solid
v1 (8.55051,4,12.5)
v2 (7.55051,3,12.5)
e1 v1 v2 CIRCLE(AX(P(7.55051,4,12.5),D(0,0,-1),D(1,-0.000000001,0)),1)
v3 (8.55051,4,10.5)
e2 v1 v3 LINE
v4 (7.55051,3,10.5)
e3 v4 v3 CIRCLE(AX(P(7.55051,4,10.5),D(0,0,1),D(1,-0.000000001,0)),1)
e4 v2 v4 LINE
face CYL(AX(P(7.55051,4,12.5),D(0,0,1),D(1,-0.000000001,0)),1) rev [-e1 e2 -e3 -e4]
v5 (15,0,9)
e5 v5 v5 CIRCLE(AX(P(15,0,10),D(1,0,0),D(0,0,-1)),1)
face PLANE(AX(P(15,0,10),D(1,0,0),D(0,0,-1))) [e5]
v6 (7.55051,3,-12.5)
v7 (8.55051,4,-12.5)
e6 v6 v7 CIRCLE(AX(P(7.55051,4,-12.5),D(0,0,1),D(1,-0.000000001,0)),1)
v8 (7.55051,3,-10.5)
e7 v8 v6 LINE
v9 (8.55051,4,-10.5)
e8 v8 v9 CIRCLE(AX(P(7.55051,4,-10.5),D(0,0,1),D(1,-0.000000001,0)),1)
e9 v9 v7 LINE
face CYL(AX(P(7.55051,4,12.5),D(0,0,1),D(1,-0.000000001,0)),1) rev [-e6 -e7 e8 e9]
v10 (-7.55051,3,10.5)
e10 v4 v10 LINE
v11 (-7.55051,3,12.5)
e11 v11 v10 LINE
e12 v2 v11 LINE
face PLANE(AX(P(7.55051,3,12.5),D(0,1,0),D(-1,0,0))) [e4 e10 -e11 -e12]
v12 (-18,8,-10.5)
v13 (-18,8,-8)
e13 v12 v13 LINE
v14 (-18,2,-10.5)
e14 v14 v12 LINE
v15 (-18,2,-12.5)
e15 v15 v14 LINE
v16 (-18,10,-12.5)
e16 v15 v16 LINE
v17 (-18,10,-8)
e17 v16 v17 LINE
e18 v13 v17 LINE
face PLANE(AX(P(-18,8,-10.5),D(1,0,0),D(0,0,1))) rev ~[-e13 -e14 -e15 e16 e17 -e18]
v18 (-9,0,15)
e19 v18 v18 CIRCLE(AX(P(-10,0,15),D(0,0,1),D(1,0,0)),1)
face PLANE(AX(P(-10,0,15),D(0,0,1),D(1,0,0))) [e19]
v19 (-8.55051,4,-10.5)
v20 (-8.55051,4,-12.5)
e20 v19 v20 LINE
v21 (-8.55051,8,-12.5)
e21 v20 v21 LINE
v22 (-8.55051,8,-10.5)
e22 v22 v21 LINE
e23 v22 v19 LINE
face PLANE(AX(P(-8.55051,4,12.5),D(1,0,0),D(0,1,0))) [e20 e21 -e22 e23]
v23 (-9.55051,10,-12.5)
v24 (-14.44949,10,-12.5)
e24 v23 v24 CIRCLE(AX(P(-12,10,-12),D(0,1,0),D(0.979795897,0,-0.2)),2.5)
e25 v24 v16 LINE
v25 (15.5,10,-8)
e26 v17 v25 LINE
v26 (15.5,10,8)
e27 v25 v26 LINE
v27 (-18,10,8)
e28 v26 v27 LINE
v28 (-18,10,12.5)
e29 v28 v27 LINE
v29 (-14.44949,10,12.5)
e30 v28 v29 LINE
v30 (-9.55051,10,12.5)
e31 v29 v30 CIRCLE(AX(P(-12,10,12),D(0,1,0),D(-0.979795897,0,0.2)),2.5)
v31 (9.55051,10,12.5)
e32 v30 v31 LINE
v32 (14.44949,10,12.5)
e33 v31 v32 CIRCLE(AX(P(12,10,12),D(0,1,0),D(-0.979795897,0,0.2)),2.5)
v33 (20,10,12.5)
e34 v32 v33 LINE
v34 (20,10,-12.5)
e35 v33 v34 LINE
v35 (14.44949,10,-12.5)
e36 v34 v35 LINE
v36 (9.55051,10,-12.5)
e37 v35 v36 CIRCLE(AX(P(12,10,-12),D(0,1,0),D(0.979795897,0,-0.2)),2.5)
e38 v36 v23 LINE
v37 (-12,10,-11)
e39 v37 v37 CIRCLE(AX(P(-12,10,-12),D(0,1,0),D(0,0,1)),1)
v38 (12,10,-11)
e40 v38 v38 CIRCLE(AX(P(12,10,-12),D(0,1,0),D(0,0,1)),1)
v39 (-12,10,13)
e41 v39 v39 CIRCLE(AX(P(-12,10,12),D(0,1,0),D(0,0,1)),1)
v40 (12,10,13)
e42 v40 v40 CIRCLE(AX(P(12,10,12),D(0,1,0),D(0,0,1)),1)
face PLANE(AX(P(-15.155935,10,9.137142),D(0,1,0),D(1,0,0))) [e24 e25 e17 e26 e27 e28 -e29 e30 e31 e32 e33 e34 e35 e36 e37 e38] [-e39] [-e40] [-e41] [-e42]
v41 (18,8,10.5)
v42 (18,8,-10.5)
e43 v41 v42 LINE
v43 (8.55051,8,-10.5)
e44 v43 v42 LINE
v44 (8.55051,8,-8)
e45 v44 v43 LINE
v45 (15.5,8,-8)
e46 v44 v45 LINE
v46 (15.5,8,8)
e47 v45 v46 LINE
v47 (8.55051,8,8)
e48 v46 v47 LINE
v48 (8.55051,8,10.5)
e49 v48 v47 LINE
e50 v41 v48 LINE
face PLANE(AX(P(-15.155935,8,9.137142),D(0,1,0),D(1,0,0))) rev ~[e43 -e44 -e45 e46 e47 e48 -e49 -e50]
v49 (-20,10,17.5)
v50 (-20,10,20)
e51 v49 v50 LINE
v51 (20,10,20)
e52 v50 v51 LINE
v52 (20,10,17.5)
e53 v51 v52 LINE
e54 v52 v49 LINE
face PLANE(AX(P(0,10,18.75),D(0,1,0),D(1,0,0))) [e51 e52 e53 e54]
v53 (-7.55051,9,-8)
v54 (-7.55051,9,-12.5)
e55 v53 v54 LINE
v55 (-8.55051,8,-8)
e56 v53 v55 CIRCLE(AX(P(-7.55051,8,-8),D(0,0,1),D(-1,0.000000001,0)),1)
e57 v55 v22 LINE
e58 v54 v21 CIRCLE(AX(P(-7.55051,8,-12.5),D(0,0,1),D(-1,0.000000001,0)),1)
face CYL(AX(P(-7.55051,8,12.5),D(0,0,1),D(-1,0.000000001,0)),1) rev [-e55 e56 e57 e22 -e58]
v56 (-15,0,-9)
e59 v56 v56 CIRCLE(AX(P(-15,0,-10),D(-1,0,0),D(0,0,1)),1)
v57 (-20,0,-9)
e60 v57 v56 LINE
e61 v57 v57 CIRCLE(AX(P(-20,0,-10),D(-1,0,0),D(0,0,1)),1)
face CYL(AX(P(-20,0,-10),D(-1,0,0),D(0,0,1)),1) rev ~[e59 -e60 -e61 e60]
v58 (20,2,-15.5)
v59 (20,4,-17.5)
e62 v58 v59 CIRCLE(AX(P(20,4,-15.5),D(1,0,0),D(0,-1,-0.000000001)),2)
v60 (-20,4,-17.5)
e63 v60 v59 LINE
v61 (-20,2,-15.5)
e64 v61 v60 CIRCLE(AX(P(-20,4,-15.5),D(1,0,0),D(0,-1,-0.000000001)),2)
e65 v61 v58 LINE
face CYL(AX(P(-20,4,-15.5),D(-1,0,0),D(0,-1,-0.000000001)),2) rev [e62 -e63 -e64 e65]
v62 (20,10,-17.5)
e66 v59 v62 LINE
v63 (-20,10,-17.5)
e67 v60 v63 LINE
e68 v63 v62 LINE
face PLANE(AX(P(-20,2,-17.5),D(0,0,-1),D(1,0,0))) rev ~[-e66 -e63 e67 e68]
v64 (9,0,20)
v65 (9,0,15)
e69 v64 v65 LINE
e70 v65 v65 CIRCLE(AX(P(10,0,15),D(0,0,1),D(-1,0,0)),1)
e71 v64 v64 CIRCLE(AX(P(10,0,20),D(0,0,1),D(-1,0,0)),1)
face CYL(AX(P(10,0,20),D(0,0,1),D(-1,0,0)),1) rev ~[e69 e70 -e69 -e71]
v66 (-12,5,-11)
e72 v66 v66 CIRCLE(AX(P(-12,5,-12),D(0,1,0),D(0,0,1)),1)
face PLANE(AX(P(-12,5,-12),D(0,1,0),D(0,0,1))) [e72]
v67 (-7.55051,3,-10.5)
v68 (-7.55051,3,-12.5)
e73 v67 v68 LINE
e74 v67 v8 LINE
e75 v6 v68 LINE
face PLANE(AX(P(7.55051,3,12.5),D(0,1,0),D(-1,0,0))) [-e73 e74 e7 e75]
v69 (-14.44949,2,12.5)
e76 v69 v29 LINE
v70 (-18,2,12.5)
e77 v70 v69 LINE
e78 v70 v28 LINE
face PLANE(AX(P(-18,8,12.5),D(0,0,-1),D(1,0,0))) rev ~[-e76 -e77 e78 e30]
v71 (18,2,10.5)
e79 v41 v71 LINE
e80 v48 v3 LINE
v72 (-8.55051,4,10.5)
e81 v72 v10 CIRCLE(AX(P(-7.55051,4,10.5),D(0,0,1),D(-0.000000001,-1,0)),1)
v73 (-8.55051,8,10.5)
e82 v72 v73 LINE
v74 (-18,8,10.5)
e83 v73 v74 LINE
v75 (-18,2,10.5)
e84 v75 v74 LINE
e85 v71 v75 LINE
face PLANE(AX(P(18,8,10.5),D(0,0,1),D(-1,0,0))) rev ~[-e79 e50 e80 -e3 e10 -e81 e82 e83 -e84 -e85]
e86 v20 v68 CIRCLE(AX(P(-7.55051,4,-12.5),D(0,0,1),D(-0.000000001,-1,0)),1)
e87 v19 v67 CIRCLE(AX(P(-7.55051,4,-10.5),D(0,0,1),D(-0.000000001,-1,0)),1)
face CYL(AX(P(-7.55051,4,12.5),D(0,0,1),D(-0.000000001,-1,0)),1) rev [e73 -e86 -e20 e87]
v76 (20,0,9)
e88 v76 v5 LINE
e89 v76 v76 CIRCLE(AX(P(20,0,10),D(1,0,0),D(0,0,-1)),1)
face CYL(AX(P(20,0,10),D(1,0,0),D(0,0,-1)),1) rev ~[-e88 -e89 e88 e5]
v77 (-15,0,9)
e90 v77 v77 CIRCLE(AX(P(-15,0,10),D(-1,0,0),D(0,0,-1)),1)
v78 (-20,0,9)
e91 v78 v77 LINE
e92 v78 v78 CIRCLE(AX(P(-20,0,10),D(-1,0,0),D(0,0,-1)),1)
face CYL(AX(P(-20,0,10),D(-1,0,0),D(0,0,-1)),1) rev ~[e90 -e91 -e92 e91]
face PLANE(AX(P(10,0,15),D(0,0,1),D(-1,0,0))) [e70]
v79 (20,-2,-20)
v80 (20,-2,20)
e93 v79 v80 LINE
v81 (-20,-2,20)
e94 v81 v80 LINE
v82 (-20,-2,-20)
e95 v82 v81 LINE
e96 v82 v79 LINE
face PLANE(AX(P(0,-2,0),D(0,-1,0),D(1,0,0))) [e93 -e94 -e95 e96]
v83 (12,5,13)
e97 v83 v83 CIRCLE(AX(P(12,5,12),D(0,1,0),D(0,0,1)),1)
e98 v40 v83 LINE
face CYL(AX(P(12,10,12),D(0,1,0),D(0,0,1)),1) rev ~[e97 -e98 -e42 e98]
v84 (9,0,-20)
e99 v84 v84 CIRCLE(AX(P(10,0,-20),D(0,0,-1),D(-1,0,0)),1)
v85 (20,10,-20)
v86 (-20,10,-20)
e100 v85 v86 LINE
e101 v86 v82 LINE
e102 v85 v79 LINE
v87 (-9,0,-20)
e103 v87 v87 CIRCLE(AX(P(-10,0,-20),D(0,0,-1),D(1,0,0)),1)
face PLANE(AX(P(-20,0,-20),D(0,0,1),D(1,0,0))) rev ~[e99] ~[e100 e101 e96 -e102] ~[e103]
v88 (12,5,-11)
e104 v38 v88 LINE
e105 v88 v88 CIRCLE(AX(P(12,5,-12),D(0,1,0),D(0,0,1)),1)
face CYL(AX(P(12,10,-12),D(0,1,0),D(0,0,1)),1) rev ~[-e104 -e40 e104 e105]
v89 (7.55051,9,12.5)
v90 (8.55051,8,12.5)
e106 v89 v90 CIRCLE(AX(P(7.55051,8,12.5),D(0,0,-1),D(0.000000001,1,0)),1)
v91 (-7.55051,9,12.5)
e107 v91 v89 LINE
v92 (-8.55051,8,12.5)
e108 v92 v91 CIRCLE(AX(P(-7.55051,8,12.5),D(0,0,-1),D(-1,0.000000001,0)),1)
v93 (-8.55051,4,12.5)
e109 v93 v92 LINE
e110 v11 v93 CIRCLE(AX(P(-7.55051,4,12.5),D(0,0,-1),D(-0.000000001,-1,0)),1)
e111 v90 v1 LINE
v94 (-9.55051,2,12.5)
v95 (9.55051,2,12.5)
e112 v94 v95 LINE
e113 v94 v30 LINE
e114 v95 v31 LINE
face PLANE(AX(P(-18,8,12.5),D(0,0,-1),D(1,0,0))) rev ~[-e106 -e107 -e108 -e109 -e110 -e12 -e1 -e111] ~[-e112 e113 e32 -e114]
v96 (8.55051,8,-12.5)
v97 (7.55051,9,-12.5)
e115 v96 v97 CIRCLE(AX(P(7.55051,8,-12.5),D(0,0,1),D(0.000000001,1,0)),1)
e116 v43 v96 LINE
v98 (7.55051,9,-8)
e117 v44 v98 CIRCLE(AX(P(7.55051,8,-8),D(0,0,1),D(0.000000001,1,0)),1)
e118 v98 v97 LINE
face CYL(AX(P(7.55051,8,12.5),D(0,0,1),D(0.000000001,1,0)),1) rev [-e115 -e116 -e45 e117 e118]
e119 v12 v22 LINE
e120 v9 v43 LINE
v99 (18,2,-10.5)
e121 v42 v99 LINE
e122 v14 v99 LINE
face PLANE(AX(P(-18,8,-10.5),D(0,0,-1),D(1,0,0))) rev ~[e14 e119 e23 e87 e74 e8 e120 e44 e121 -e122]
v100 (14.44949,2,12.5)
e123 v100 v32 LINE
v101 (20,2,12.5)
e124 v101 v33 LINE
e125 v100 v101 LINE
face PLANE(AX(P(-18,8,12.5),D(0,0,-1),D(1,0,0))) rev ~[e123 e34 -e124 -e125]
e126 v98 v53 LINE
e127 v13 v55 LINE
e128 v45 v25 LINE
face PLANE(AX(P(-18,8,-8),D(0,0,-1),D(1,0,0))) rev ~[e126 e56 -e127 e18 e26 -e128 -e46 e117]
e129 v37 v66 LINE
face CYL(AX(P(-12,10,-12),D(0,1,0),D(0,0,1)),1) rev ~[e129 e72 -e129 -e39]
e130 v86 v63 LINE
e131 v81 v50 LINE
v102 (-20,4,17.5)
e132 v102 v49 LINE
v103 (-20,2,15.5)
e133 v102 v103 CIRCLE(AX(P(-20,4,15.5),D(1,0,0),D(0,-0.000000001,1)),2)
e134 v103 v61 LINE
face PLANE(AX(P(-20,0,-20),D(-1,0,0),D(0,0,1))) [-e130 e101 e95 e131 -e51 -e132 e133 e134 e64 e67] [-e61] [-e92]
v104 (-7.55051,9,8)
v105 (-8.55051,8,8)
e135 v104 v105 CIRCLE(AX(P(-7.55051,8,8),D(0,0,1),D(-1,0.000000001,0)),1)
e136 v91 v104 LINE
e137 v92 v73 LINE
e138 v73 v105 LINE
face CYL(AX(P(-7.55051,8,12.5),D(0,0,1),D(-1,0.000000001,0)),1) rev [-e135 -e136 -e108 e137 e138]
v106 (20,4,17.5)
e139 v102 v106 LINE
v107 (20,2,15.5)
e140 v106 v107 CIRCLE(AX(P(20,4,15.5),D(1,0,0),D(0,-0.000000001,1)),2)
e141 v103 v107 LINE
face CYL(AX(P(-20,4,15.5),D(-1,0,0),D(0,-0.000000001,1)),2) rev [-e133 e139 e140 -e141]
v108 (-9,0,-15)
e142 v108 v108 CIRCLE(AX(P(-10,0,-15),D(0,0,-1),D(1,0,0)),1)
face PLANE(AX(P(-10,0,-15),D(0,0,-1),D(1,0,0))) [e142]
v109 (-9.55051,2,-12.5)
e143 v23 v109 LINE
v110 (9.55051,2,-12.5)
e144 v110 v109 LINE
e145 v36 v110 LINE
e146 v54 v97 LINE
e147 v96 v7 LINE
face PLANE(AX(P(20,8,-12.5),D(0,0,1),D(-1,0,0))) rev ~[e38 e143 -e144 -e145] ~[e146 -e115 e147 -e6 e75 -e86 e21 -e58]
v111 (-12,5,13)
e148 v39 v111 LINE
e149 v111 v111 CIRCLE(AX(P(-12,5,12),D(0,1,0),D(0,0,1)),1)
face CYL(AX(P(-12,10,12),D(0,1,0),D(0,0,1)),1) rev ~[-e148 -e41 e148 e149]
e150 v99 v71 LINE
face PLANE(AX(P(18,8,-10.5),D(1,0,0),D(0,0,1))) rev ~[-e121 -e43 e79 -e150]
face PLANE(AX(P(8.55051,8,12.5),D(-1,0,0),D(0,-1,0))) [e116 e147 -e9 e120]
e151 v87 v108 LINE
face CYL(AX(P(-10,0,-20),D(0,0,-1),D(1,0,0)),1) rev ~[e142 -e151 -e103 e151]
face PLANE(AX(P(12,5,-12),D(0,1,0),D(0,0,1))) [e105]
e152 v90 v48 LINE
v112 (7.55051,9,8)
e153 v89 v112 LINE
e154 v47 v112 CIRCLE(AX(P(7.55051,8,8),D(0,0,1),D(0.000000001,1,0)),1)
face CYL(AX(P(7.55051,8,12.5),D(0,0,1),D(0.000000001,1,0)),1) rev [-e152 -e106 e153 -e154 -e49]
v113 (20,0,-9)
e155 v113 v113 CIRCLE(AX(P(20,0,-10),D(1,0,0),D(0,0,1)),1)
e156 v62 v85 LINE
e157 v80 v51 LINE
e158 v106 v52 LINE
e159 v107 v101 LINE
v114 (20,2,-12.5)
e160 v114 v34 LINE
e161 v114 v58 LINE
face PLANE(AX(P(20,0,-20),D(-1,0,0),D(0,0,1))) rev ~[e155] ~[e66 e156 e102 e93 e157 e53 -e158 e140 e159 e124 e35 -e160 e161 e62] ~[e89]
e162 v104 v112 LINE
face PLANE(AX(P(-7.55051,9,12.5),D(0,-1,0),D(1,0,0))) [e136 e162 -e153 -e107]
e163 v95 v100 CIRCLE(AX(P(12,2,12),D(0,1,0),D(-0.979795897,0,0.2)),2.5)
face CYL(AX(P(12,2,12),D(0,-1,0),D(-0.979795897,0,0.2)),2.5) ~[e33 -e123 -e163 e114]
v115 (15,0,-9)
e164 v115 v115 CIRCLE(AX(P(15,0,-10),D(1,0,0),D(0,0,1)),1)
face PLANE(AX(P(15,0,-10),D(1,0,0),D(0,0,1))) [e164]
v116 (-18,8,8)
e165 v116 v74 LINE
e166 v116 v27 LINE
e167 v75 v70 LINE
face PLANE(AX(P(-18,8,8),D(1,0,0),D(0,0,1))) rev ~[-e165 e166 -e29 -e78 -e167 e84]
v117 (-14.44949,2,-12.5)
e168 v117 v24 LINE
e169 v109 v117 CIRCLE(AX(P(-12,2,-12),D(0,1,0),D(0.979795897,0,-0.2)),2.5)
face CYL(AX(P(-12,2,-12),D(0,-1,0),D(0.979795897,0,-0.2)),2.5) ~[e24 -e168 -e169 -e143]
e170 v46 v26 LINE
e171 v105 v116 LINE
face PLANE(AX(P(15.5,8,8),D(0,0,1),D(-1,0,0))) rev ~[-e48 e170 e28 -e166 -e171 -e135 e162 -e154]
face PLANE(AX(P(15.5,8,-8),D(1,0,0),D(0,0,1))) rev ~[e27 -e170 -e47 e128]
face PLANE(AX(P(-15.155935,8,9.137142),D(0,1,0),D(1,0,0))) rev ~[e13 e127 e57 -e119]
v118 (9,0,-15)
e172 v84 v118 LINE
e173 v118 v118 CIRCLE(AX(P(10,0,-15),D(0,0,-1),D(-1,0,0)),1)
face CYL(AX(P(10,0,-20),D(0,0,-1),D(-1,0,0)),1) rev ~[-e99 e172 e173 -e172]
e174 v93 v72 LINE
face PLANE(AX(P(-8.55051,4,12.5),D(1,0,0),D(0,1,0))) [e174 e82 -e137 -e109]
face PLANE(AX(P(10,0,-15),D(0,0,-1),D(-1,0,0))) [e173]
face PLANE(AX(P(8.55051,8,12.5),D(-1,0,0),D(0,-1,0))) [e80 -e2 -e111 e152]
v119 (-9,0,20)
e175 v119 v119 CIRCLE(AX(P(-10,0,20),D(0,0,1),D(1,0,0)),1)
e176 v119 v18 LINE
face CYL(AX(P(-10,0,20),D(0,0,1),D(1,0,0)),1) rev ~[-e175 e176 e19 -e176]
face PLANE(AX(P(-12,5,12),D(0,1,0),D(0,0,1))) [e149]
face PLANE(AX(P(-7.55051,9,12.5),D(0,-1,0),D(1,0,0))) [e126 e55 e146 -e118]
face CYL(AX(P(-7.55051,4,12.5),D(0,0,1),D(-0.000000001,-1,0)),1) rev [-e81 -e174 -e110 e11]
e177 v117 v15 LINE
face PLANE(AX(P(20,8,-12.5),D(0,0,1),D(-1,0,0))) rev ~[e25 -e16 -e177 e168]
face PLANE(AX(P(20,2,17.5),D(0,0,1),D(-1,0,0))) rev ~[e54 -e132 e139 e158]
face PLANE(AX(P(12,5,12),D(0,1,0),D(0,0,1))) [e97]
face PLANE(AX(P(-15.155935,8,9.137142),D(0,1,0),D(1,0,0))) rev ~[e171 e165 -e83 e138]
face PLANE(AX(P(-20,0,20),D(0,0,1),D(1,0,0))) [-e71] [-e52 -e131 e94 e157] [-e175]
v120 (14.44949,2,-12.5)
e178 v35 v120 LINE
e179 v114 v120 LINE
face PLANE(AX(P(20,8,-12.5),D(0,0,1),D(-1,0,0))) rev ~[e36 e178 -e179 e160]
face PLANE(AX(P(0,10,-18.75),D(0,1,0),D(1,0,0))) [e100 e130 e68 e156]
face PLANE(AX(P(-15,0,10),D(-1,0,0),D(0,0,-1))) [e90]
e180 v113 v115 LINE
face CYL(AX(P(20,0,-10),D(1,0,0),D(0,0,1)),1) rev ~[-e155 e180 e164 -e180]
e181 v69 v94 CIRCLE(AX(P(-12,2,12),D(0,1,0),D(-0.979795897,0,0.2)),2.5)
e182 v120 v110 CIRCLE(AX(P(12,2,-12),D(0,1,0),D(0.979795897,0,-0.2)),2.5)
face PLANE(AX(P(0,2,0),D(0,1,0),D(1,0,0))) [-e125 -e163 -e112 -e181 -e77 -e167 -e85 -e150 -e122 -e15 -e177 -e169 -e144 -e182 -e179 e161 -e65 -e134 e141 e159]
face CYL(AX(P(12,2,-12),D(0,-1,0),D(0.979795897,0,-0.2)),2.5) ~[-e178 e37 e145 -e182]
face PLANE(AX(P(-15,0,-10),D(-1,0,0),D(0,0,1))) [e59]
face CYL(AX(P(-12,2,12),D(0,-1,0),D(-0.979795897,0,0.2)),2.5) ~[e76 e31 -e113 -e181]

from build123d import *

# Parameters (mm, degrees)
SKETCH1_W            = 40
SKETCH1_H            = 40
BOSS_EXTRUDE3_DEPTH  = 2
BOSS_EXTRUDE4_DEPTH  = 6
BOSS_EXTRUDE5_DEPTH  = 2
BOSS_EXTRUDE6_START  = -6
BOSS_EXTRUDE6_DEPTH  = 6
BOSS_EXTRUDE7_DEPTH  = 2
SKETCH7_R            = 1
CUT_EXTRUDE1_DEPTH   = 5
CUT_EXTRUDE2_DEPTH   = 34
BOSS_EXTRUDE8_DEPTH  = 8
BOSS_EXTRUDE9_DEPTH  = 40
SKETCH11_W           = 40
SKETCH11_H           = 40
BOSS_EXTRUDE10_DEPTH = 2
SKETCH13_R           = 1
CUT_EXTRUDE3_DEPTH   = 5
CIRPATTERN1_COUNT    = 4


with BuildPart() as part:
    # Sketch1 → Boss-Extrude3 (new body)
    with BuildSketch(Plane(origin=(0, 0, 0), x_dir=(1, 0, 0), z_dir=(0, 1, 0))):
        Rectangle(SKETCH1_W, SKETCH1_H)
    extrude(amount=BOSS_EXTRUDE3_DEPTH)

    # Sketch5 → Boss-Extrude4 (add)
    with BuildSketch(Plane(origin=(0, 2, 0), x_dir=(1, 0, 0), z_dir=(0, 1, 0))):
        Polygon((18, -10.5), (-18, -10.5), (-18, -12.5), (20, -12.5), (20, 12.5), (-18, 12.5), (-18, 10.5), (18, 10.5), align=None)
    extrude(amount=BOSS_EXTRUDE4_DEPTH)

    # Sketch6 → Boss-Extrude5 (add)
    with BuildSketch(Plane(origin=(0, 8, 0), x_dir=(1, 0, 0), z_dir=(0, 1, 0))):
        with BuildLine():
            ThreePointArc((14, -10.5), (12, -9.5), (10, -10.5))
            Line((10, -10.5), (-10, -10.5))
            ThreePointArc((-10, -10.5), (-12, -9.5), (-14, -10.5))
            Line((-14, -10.5), (-18, -10.5))
            Line((-18, -10.5), (-18, -12.5))
            Line((-18, -12.5), (-14.449489743, -12.5))
            ThreePointArc((-14.449489743, -12.5), (-12, -14.5), (-9.550510257, -12.5))
            Line((-9.550510257, -12.5), (9.550510257, -12.5))
            ThreePointArc((9.550510257, -12.5), (12, -14.5), (14.449489743, -12.5))
            Line((14.449489743, -12.5), (20, -12.5))
            Line((20, -12.5), (20, 12.5))
            Line((20, 12.5), (14.449489743, 12.5))
            ThreePointArc((14.449489743, 12.5), (12, 14.5), (9.550510257, 12.5))
            Line((9.550510257, 12.5), (-9.550510257, 12.5))
            ThreePointArc((-9.550510257, 12.5), (-12, 14.5), (-14.449489743, 12.5))
            Line((-14.449489743, 12.5), (-18, 12.5))
            Line((-18, 12.5), (-18, 10.5))
            Line((-18, 10.5), (-14, 10.5))
            ThreePointArc((-14, 10.5), (-12, 9.5), (-10, 10.5))
            Line((-10, 10.5), (10, 10.5))
            ThreePointArc((10, 10.5), (12, 9.5), (14, 10.5))
            Line((14, 10.5), (18, 10.5))
            Line((18, 10.5), (18, -10.5))
            Line((18, -10.5), (14, -10.5))
        make_face()
    extrude(amount=BOSS_EXTRUDE5_DEPTH)

    # Sketch6<3> → Boss-Extrude6 (add)
    with BuildSketch(Plane(origin=(0, 8, 0), x_dir=(1, 0, 0), z_dir=(0, 1, 0)).offset(BOSS_EXTRUDE6_START)):
        with BuildLine():
            ThreePointArc((-9.550510257, 12.5), (-12, 14.5), (-14.449489743, 12.5))
            Line((-14.449489743, 12.5), (-9.550510257, 12.5))
        make_face()
        with BuildLine():
            ThreePointArc((14.449489743, 12.5), (12, 14.5), (9.550510257, 12.5))
            Line((9.550510257, 12.5), (14.449489743, 12.5))
        make_face()
        with BuildLine():
            Line((-9.550510257, -12.5), (-14.449489743, -12.5))
            ThreePointArc((-14.449489743, -12.5), (-12, -14.5), (-9.550510257, -12.5))
        make_face()
        with BuildLine():
            ThreePointArc((9.550510257, -12.5), (12, -14.5), (14.449489743, -12.5))
            Line((14.449489743, -12.5), (9.550510257, -12.5))
        make_face()
    extrude(amount=BOSS_EXTRUDE6_DEPTH)

    # Sketch6<4> → Boss-Extrude7 (add)
    with BuildSketch(Plane(origin=(0, 8, 0), x_dir=(1, 0, 0), z_dir=(0, 1, 0))):
        with BuildLine():
            Line((-15.5, -8), (-18, -8))
            Line((-18, -8), (-18, -10.5))
            Line((-18, -10.5), (-14, -10.5))
            ThreePointArc((-14, -10.5), (-13.118033989, -9.763932023), (-12, -9.5))
            Line((-12, -9.5), (-12, -8))
            Line((-12, -8), (-15.5, -8))
        make_face()
        with BuildLine():
            Line((12, -8), (-12, -8))
            Line((-12, -8), (-12, -9.5))
            ThreePointArc((-12, -9.5), (-10.881966011, -9.763932023), (-10, -10.5))
            Line((-10, -10.5), (10, -10.5))
            ThreePointArc((10, -10.5), (10.881966011, -9.763932023), (12, -9.5))
            Line((12, -9.5), (12, -8))
        make_face()
        with BuildLine():
            Line((12, 9.5), (12, 8))
            Line((12, 8), (15.5, 8))
            Line((15.5, 8), (15.5, -8))
            Line((15.5, -8), (12, -8))
            Line((12, -8), (12, -9.5))
            ThreePointArc((12, -9.5), (13.118033989, -9.763932023), (14, -10.5))
            Line((14, -10.5), (18, -10.5))
            Line((18, -10.5), (18, 10.5))
            Line((18, 10.5), (14, 10.5))
            ThreePointArc((14, 10.5), (13.118033989, 9.763932023), (12, 9.5))
        make_face()
        with BuildLine():
            ThreePointArc((-10, 10.5), (-10.881966011, 9.763932023), (-12, 9.5))
            Line((-12, 9.5), (-12, 8))
            Line((-12, 8), (12, 8))
            Line((12, 8), (12, 9.5))
            ThreePointArc((12, 9.5), (10.881966011, 9.763932023), (10, 10.5))
            Line((10, 10.5), (-10, 10.5))
        make_face()
        with BuildLine():
            Line((-14, 10.5), (-18, 10.5))
            Line((-18, 10.5), (-18, 8))
            Line((-18, 8), (-15.5, 8))
            Line((-15.5, 8), (-12, 8))
            Line((-12, 8), (-12, 9.5))
            ThreePointArc((-12, 9.5), (-13.118033989, 9.763932023), (-14, 10.5))
        make_face()
    extrude(amount=BOSS_EXTRUDE7_DEPTH)

    # Sketch7 → Cut-Extrude1 (cut)
    with BuildSketch(Plane(origin=(0, 10, 0), x_dir=(1, 0, 0), z_dir=(0, 1, 0))):
        with Locations(Location((-12, 12, 0), (0, 0, 270))):
            Circle(SKETCH7_R)
        with Locations(Location((12, 12, 0), (0, 0, 270))):
            Circle(SKETCH7_R)
        with Locations(Location((12, -12, 0), (0, 0, 270))):
            Circle(SKETCH7_R)
        with Locations(Location((-12, -12, 0), (0, 0, 270))):
            Circle(SKETCH7_R)
    extrude(amount=-CUT_EXTRUDE1_DEPTH, mode=Mode.SUBTRACT)

    # Sketch8 → Cut-Extrude2 (cut)
    with BuildSketch(Plane.XY.offset(12.5)):
        with BuildLine():
            ThreePointArc((-8.550510257, 8), (-8.257617038, 8.707106781), (-7.550510257, 9))
            Line((-7.550510257, 9), (7.550510257, 9))
            ThreePointArc((7.550510257, 9), (8.257617038, 8.707106781), (8.550510257, 8))
            Line((8.550510257, 8), (8.550510257, 4))
            ThreePointArc((8.550510257, 4), (8.257617038, 3.292893219), (7.550510257, 3))
            Line((7.550510257, 3), (-7.550510257, 3))
            ThreePointArc((-7.550510257, 3), (-8.257617038, 3.292893219), (-8.550510257, 4))
            Line((-8.550510257, 4), (-8.550510257, 8))
        make_face()
    extrude(amount=-CUT_EXTRUDE2_DEPTH, mode=Mode.SUBTRACT)

    # Sketch9 → Boss-Extrude8 (add)
    with BuildSketch(Plane(origin=(0, 2, 0), x_dir=(1, 0, 0), z_dir=(0, 1, 0))):
        Polygon((-20, 20), (-20, 17.5), (-17.5, 17.5), (17.5, 17.5), (20, 17.5), (20, 20), align=None)
        Polygon((-17.5, -17.5), (-20, -17.5), (-20, -20), (20, -20), (20, -17.5), (17.5, -17.5), align=None)
    extrude(amount=BOSS_EXTRUDE8_DEPTH)

    # Sketch10 → Boss-Extrude9 (add)
    with BuildSketch(Plane.ZY.offset(20)):
        with BuildLine():
            Line((-17.5, 2), (-15.5, 2))
            ThreePointArc((-15.5, 2), (-16.914213562, 2.585786438), (-17.5, 4))
            Line((-17.5, 4), (-17.5, 2))
        make_face()
        with BuildLine():
            ThreePointArc((17.5, 4), (16.914213562, 2.585786438), (15.5, 2))
            Line((15.5, 2), (17.5, 2))
            Line((17.5, 2), (17.5, 4))
        make_face()
    extrude(amount=-BOSS_EXTRUDE9_DEPTH)

    # Sketch11 → Boss-Extrude10 (add)
    with BuildSketch(Plane.XZ):
        Rectangle(SKETCH11_W, SKETCH11_H)
    extrude(amount=BOSS_EXTRUDE10_DEPTH)

    # Sketch13 → Cut-Extrude3 (cut)
    with BuildSketch(Plane(origin=(20, 0, 0), x_dir=(0, 0, -1), z_dir=(1, 0, 0))):
        with Locations((-10, 0)):
            Circle(SKETCH13_R)
        with Locations(Location((10, 0, 0), (0, 0, 180))):
            Circle(SKETCH13_R)
    cut_extrude3 = extrude(amount=-CUT_EXTRUDE3_DEPTH, mode=Mode.SUBTRACT)

    # CirPattern1: Cut-Extrude3 ×4 about axis
    cirpattern1_axis = Axis((0, 0, 0), (0, 1, 0))
    for i in range(1, CIRPATTERN1_COUNT):
        add(cut_extrude3.rotate(cirpattern1_axis, i * 360 / CIRPATTERN1_COUNT), mode=Mode.SUBTRACT)


solid = part.part
